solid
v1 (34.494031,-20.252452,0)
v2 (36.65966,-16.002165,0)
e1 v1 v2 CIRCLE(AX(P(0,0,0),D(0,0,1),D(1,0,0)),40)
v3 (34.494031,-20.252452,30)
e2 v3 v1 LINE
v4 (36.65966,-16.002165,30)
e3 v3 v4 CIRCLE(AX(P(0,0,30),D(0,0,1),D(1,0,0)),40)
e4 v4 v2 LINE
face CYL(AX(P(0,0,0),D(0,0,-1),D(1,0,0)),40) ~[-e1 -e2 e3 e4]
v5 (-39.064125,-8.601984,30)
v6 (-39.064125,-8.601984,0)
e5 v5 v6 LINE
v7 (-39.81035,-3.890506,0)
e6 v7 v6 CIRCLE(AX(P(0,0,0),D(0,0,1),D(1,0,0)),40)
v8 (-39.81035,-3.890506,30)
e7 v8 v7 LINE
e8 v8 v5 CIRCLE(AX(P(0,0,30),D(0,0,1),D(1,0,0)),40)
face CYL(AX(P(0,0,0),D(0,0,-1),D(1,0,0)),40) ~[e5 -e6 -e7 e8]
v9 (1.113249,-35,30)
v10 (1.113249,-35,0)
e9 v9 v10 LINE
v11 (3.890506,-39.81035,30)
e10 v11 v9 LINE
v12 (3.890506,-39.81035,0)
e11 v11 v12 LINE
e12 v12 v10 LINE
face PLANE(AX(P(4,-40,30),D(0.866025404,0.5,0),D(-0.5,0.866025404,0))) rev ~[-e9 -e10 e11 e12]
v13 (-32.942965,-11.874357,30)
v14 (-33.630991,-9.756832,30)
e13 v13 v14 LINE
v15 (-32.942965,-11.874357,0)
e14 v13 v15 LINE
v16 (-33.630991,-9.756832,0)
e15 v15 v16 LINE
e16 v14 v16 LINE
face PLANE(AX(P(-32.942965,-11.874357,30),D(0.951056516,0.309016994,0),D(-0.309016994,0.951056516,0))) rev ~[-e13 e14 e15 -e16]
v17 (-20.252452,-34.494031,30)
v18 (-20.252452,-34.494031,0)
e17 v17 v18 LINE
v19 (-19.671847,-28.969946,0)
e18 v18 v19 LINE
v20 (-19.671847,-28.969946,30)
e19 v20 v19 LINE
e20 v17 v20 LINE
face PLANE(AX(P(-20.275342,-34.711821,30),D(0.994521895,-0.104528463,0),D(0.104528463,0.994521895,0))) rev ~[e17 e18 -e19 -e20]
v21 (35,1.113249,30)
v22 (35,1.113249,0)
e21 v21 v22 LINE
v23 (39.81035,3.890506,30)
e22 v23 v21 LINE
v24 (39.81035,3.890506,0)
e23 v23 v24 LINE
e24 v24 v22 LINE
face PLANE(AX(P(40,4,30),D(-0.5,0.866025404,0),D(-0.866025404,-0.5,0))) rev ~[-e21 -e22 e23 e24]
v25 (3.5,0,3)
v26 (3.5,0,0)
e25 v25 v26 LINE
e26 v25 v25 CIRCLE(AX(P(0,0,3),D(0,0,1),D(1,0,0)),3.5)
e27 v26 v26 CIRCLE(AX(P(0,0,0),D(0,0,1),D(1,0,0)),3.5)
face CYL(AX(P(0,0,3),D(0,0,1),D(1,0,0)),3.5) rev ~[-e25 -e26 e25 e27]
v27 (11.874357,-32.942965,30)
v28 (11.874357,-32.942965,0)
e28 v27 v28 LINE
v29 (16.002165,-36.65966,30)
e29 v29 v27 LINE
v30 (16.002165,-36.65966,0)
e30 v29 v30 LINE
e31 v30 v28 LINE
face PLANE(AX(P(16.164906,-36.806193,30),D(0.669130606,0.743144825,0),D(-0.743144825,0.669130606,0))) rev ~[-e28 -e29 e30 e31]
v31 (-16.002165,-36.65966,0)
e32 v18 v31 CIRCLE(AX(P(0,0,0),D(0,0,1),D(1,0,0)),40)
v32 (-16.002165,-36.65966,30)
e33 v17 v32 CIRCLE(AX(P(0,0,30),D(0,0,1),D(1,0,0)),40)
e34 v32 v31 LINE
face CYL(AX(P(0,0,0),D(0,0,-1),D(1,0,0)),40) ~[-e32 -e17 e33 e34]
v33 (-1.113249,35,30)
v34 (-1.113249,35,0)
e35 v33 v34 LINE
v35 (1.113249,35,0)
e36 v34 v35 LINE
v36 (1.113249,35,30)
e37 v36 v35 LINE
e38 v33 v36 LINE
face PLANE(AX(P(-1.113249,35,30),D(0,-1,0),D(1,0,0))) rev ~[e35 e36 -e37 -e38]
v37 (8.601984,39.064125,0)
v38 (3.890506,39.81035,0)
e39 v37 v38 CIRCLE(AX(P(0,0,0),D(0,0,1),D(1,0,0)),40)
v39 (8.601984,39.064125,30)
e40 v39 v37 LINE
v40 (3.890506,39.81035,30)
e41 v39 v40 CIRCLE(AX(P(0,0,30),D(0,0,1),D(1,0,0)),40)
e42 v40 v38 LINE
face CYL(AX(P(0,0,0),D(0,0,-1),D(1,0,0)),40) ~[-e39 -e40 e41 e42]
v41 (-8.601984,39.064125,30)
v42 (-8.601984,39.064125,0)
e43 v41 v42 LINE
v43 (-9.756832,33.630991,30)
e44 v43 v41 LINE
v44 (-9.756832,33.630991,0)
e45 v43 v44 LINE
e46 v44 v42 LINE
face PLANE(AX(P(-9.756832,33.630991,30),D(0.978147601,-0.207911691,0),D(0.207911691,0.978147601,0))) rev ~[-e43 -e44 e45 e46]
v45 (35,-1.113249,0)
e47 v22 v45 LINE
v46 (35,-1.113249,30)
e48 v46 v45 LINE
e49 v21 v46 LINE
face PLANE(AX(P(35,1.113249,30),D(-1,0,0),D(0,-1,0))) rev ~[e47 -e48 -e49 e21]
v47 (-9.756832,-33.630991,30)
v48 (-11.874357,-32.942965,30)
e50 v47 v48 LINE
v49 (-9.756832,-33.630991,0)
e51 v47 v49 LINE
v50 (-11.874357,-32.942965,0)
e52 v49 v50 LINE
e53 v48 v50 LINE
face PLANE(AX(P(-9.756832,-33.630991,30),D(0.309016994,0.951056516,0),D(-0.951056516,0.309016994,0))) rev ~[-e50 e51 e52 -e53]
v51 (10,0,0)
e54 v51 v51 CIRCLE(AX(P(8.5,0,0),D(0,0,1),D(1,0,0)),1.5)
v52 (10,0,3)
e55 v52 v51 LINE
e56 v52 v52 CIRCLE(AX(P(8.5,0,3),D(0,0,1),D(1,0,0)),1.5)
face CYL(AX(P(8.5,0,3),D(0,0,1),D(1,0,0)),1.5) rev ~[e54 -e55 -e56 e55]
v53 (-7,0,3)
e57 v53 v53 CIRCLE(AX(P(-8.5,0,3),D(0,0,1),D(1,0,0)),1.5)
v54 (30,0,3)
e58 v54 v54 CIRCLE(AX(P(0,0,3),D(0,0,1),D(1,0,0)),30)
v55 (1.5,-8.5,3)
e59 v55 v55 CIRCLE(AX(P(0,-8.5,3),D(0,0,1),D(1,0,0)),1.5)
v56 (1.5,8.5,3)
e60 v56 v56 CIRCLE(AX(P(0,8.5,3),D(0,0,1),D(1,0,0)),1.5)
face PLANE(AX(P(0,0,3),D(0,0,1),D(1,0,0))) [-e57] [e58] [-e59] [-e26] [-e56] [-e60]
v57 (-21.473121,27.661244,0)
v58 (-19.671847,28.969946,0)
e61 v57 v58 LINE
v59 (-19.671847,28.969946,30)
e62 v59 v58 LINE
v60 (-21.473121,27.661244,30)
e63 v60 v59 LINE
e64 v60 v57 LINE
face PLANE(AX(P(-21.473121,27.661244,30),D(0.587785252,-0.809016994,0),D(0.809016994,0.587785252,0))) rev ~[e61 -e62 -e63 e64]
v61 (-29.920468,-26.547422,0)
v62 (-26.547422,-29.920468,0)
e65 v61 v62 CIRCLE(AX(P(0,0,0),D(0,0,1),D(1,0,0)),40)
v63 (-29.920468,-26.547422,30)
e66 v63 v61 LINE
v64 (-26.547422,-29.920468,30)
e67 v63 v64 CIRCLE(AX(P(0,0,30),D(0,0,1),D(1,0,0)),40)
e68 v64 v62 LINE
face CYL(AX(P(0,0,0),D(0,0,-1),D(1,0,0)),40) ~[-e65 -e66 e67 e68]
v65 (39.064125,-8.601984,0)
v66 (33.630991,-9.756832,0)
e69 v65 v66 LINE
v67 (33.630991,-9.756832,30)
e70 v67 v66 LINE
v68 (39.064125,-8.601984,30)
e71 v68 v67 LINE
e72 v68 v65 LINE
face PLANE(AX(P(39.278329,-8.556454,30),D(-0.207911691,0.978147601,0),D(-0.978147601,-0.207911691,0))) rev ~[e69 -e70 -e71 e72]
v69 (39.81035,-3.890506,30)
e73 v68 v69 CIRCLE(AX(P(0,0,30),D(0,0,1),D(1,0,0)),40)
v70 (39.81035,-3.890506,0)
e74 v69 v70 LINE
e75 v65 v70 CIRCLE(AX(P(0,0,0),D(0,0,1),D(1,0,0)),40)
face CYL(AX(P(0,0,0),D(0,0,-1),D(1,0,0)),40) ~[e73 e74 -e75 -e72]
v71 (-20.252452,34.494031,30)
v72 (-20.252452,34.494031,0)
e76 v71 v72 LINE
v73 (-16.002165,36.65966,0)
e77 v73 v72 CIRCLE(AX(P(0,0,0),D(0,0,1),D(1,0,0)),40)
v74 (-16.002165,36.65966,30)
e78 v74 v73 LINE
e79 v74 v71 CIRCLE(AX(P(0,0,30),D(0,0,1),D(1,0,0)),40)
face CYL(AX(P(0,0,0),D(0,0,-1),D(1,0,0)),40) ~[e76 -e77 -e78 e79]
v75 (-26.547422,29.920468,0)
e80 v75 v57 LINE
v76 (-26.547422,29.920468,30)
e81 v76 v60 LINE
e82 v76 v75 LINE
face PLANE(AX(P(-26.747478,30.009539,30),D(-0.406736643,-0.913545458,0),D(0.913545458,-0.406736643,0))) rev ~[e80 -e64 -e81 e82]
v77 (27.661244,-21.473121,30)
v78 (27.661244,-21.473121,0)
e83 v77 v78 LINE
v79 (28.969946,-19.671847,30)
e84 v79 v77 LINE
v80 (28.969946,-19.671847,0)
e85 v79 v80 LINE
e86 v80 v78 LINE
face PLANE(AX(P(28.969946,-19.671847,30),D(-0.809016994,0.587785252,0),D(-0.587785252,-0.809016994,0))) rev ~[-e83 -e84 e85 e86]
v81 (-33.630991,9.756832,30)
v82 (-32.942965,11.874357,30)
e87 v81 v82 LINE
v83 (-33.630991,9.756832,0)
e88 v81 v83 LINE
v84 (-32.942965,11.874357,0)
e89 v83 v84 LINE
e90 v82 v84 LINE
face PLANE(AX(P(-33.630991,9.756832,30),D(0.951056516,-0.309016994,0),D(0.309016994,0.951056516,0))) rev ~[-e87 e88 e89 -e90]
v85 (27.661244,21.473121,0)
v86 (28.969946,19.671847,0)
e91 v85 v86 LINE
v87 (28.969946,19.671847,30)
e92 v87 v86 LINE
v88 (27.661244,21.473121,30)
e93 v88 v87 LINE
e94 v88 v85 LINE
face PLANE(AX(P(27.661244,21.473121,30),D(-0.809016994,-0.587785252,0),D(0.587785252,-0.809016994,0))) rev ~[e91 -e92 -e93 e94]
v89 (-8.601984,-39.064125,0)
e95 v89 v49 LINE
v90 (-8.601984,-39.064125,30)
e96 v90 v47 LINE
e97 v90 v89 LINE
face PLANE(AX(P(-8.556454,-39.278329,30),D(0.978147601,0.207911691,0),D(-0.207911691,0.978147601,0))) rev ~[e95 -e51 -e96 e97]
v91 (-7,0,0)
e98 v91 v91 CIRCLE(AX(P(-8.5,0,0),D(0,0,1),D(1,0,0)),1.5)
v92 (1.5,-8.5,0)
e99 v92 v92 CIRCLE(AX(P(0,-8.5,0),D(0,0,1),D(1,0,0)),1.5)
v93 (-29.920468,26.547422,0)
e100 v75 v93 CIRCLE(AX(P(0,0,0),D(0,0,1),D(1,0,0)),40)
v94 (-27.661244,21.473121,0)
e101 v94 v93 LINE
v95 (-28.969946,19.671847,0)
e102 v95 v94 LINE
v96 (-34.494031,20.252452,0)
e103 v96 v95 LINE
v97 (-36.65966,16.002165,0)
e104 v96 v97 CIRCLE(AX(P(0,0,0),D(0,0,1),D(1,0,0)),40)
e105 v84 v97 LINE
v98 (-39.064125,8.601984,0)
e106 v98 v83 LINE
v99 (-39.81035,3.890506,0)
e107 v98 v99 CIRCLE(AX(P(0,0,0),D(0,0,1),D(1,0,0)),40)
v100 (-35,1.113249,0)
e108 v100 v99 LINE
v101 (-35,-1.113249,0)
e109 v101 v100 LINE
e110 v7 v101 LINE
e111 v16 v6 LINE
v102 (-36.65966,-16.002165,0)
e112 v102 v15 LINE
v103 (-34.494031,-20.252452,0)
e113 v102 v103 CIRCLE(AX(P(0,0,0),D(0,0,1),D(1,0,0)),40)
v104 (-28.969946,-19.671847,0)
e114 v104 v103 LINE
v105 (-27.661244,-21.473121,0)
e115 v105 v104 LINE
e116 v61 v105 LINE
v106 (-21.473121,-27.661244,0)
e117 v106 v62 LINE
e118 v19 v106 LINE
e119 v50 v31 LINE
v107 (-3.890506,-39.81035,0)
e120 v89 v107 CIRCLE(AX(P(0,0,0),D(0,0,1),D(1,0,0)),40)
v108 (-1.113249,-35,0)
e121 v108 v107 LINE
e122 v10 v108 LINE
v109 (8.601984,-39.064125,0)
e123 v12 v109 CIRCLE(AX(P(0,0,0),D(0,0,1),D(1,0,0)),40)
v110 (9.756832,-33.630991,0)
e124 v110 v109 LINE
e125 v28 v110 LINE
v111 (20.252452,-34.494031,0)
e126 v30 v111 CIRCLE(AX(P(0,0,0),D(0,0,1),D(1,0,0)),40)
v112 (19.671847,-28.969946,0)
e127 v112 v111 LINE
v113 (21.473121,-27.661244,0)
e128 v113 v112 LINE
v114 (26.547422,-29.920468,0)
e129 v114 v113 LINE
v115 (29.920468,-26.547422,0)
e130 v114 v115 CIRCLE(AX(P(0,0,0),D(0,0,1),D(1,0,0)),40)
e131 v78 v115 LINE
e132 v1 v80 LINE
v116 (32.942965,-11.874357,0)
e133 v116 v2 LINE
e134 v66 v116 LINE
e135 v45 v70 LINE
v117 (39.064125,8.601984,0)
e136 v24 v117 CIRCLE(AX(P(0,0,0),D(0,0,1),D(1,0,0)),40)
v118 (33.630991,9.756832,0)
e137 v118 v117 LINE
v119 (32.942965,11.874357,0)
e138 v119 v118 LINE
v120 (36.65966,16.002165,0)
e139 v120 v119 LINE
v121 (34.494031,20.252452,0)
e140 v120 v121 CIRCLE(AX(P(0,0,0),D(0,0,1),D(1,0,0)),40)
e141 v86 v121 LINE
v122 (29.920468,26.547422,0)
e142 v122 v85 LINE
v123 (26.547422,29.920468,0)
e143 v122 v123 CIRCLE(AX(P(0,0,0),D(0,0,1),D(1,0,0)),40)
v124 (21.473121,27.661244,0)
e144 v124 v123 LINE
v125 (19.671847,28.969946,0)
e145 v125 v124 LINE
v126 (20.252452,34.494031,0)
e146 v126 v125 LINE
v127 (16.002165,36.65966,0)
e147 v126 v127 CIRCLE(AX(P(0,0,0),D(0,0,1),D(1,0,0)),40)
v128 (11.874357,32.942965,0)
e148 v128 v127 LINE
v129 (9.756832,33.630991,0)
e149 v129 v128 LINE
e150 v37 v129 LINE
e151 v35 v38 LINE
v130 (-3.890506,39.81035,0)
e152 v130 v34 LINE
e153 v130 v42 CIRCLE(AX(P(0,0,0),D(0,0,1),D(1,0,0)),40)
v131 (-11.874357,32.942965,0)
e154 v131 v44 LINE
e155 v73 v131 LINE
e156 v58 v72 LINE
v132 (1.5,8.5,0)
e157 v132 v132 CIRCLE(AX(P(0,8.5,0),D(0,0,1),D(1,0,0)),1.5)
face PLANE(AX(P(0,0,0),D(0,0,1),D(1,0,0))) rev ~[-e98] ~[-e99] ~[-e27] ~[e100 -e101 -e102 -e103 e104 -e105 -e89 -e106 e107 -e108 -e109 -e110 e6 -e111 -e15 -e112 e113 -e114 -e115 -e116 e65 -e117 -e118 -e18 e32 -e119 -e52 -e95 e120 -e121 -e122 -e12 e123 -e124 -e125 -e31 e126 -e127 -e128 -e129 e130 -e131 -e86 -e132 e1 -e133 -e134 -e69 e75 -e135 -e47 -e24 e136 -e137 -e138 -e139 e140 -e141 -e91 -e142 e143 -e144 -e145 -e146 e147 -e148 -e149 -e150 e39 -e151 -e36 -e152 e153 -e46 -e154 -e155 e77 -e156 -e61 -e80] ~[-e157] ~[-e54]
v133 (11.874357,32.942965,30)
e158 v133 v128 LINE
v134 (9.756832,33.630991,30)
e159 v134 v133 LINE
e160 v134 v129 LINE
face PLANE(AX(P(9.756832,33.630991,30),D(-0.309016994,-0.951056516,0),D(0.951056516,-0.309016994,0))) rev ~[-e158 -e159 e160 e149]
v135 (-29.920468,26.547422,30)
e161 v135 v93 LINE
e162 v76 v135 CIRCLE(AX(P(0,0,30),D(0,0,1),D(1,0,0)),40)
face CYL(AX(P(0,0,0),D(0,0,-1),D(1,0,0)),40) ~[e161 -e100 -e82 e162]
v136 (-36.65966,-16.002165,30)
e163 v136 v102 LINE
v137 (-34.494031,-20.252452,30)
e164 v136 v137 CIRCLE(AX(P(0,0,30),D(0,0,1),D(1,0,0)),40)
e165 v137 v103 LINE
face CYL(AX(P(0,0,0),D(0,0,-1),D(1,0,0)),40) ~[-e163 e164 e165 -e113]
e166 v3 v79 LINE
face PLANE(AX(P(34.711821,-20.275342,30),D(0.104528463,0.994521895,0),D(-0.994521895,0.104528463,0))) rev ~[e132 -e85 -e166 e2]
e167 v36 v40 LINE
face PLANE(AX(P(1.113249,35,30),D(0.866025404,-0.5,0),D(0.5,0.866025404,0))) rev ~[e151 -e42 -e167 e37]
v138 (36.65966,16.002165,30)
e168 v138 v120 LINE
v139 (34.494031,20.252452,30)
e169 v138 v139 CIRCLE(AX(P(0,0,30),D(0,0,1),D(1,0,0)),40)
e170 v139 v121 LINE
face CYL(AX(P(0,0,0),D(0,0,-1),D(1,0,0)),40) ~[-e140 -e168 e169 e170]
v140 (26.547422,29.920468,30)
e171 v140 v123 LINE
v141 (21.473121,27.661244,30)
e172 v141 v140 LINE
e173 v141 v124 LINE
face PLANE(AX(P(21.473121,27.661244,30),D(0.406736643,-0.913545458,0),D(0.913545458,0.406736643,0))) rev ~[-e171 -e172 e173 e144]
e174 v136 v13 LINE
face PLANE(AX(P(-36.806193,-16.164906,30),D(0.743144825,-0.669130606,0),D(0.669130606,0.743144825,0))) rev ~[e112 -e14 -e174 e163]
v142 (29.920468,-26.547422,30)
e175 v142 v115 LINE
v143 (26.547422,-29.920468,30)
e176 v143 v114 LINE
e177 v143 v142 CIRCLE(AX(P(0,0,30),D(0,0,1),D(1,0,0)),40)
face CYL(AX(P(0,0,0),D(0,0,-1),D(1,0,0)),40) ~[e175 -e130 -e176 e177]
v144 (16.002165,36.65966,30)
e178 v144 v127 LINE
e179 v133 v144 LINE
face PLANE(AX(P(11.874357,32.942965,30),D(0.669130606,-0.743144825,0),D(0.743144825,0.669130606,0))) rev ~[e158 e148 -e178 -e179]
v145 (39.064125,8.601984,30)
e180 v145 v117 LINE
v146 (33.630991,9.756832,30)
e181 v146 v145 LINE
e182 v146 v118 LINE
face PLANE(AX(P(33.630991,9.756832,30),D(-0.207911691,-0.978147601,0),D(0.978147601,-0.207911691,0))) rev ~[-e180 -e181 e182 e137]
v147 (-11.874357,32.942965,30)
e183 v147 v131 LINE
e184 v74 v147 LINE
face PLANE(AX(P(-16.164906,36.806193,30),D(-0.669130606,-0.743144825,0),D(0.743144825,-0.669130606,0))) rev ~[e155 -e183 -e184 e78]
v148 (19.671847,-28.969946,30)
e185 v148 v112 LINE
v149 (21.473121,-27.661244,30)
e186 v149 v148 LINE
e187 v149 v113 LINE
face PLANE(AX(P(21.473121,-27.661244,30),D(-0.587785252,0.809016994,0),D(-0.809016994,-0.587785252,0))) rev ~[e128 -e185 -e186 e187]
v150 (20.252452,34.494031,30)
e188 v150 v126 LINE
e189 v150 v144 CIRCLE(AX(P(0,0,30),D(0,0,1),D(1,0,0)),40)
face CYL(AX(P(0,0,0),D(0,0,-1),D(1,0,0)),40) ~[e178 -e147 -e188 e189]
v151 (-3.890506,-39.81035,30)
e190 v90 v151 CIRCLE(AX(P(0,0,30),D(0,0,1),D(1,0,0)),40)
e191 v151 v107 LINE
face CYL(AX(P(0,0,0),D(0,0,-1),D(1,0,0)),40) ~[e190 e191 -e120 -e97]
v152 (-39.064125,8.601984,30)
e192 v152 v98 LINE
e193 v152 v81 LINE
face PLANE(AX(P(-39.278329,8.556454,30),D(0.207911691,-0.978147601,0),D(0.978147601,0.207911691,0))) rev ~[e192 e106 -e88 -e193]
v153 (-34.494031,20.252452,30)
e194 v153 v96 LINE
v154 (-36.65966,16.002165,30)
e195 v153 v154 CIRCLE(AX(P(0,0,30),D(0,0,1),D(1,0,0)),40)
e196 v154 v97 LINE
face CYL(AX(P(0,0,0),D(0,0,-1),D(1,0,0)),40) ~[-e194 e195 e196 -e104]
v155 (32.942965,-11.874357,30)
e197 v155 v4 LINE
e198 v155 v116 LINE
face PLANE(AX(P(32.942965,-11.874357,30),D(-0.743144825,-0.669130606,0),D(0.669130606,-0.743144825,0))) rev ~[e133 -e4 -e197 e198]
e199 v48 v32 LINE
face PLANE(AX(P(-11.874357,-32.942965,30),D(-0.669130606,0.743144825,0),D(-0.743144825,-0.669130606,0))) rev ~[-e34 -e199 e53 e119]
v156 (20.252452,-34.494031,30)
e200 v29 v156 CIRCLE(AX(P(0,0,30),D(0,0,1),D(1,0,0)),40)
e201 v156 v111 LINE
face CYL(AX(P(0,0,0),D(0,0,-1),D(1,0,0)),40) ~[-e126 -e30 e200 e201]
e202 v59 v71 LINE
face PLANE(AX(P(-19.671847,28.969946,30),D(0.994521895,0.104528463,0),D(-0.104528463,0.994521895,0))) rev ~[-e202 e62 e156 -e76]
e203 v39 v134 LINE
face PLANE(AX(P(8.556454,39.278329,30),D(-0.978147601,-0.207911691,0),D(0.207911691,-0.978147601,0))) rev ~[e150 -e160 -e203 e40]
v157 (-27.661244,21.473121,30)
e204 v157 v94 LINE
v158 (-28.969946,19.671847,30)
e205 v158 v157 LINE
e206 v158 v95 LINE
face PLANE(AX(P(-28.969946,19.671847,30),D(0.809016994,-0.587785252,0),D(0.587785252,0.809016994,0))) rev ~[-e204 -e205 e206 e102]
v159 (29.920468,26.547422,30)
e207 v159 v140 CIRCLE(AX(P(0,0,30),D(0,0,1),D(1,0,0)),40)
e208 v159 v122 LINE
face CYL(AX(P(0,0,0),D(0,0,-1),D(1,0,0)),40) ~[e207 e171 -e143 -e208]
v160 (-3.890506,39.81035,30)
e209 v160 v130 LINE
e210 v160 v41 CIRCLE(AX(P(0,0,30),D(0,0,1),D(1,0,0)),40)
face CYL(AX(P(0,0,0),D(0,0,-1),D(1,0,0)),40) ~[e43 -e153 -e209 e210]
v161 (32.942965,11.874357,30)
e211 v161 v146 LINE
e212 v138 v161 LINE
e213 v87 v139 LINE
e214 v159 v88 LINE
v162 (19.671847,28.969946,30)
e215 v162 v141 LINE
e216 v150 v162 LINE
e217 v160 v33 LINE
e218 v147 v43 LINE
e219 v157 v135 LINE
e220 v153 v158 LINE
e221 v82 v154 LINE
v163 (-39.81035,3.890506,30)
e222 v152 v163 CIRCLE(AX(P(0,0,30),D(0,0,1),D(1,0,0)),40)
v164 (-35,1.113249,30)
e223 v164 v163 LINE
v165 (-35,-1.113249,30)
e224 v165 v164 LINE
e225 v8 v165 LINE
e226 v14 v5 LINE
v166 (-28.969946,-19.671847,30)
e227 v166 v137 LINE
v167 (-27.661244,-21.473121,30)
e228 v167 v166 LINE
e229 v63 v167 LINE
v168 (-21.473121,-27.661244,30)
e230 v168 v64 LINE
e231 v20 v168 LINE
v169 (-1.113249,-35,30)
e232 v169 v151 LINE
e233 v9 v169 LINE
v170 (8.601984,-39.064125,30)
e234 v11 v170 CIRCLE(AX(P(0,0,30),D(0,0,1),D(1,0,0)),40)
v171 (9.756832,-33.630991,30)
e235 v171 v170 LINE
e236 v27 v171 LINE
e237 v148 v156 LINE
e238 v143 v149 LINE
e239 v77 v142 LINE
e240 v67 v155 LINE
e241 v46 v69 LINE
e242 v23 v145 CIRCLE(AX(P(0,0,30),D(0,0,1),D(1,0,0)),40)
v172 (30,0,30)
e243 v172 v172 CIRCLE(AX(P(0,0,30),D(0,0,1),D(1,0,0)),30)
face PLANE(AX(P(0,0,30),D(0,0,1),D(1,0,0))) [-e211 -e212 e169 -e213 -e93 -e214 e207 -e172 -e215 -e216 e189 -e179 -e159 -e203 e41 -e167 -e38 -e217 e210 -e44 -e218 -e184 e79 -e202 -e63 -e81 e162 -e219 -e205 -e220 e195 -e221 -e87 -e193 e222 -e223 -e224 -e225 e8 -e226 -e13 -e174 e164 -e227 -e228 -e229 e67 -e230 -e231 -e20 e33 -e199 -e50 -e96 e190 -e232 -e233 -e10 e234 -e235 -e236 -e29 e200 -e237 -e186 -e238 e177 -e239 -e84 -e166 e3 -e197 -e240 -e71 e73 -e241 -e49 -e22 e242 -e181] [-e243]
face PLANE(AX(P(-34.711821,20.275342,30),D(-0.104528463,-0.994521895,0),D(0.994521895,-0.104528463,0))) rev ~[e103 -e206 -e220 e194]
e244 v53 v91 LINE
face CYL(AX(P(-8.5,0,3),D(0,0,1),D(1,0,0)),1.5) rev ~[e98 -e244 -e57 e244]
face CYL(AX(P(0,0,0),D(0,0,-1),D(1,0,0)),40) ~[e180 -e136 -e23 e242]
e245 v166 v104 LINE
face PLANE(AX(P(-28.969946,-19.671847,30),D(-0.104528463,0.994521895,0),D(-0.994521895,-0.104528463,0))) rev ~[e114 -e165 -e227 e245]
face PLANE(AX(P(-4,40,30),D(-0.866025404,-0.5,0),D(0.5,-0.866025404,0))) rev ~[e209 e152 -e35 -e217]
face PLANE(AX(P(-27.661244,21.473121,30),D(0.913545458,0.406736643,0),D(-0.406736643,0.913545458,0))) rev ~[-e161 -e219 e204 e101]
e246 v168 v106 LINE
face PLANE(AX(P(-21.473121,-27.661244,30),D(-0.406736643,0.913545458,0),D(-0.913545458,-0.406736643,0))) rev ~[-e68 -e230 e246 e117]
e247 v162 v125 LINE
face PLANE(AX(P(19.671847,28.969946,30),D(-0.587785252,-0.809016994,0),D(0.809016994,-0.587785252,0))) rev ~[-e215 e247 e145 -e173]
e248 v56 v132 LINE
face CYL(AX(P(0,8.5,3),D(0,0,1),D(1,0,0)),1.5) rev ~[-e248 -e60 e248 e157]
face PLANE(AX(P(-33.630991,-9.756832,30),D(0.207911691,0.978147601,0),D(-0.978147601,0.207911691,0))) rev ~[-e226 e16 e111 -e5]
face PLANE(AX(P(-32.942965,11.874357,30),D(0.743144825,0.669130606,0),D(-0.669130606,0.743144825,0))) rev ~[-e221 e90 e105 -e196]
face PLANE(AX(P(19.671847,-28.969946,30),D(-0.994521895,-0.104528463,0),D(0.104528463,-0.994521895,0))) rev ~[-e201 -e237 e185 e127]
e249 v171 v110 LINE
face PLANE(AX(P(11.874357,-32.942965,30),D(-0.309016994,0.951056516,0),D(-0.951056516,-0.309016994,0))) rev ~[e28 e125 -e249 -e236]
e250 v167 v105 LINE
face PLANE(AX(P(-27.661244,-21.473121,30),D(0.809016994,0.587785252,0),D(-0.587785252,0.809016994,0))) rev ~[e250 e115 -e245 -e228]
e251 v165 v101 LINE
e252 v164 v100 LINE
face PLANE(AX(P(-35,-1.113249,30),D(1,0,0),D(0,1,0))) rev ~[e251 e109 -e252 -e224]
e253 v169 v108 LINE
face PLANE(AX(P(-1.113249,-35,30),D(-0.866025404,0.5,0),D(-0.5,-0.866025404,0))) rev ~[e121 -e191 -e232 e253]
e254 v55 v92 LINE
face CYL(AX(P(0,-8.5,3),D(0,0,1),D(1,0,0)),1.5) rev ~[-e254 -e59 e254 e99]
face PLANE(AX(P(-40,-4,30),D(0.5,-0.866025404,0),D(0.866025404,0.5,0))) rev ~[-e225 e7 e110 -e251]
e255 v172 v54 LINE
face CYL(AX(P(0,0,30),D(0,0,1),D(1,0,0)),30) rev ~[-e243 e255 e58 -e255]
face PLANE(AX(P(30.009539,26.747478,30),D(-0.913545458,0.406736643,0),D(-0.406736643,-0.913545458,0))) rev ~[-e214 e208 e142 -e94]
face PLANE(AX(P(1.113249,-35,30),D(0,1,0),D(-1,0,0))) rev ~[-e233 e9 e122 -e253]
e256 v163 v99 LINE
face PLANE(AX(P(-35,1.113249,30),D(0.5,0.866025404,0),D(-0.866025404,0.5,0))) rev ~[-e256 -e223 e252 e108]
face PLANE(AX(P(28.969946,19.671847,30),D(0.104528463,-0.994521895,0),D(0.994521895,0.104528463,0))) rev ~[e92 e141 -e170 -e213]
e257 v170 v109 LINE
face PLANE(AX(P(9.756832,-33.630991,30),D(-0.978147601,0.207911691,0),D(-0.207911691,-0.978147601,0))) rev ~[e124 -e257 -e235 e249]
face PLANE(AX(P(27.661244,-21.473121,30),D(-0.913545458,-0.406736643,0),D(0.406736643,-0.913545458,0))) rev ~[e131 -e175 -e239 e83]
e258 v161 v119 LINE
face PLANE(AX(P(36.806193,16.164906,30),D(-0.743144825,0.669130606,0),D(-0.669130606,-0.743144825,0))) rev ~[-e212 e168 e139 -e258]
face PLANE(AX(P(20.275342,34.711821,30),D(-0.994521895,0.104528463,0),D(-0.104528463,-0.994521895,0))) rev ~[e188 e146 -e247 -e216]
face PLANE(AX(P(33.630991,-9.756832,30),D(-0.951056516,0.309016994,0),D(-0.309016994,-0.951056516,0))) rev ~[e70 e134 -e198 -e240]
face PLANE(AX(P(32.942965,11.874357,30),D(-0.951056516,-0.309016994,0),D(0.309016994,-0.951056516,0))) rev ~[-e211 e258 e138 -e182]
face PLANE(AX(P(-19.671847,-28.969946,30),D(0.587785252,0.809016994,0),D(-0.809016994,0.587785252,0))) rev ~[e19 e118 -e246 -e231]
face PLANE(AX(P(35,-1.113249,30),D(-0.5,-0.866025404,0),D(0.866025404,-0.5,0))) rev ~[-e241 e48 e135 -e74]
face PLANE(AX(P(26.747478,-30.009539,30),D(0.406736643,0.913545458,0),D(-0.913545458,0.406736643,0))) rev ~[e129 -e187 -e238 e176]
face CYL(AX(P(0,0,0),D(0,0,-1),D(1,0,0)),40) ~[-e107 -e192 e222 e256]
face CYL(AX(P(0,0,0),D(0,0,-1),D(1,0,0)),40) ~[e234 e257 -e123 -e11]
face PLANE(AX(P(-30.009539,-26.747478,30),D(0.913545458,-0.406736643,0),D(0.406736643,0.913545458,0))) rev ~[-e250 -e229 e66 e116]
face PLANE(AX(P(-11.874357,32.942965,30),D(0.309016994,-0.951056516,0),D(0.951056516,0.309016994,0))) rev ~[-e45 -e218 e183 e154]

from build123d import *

# Parameters (mm, degrees)
SKETCH1_R           = 40
BOSS_EXTRUDE1_DEPTH = 30
CUT_EXTRUDE1_DEPTH  = 30
SKETCH3_R           = 30
CUT_EXTRUDE2_DEPTH  = 27
SKETCH4_R           = 1.5
SKETCH4_R_2         = 3.5
CUT_EXTRUDE3_DEPTH  = 27


with BuildPart() as part:
    # Sketch1 → Boss-Extrude1 (new body)
    with BuildSketch(Plane.XY):
        Circle(SKETCH1_R)
    extrude(amount=BOSS_EXTRUDE1_DEPTH)

    # Sketch2 → Cut-Extrude1 (cut)
    with BuildSketch(Plane.XY.offset(30)):
        Polygon((4, 40), (-4, 40), (-1.113248654, 35), (1.113248654, 35), align=None)
        Polygon((11.87435719, 32.942965317), (16.16490584, 36.806192674), (8.55645371, 39.278328629), (9.756832416, 33.630990823), align=None)
        Polygon((21.47312091, 27.661243662), (26.747478069, 30.009538766), (20.275342114, 34.711820784), (19.67184675, 28.969945944), align=None)
        Polygon((28.969945944, 19.67184675), (34.711820784, 20.275342114), (30.009538766, 26.747478069), (27.661243662, 21.47312091), align=None)
        Polygon((33.630990823, 9.756832416), (39.278328629, 8.55645371), (36.806192674, 16.16490584), (32.942965317, 11.87435719), align=None)
        Polygon((35, -1.113248654), (40, -4), (40, 4), (35, 1.113248654), align=None)
        Polygon((32.942965317, -11.87435719), (36.806192674, -16.16490584), (39.278328629, -8.55645371), (33.630990823, -9.756832416), align=None)
        Polygon((27.661243662, -21.47312091), (30.009538766, -26.747478069), (34.711820784, -20.275342114), (28.969945944, -19.67184675), align=None)
        Polygon((19.67184675, -28.969945944), (20.275342114, -34.711820784), (26.747478069, -30.009538766), (21.47312091, -27.661243662), align=None)
        Polygon((9.756832416, -33.630990823), (8.55645371, -39.278328629), (16.16490584, -36.806192674), (11.87435719, -32.942965317), align=None)
        Polygon((-1.113248654, -35), (-4, -40), (4, -40), (1.113248654, -35), align=None)
        Polygon((-11.87435719, -32.942965317), (-16.16490584, -36.806192674), (-8.55645371, -39.278328629), (-9.756832416, -33.630990823), align=None)
        Polygon((-21.47312091, -27.661243662), (-26.747478069, -30.009538766), (-20.275342114, -34.711820784), (-19.67184675, -28.969945944), align=None)
        Polygon((-28.969945944, -19.67184675), (-34.711820784, -20.275342114), (-30.009538766, -26.747478069), (-27.661243662, -21.47312091), align=None)
        Polygon((-33.630990823, -9.756832416), (-39.278328629, -8.55645371), (-36.806192674, -16.16490584), (-32.942965317, -11.87435719), align=None)
        Polygon((-35, 1.113248654), (-40, 4), (-40, -4), (-35, -1.113248654), align=None)
        Polygon((-32.942965317, 11.87435719), (-36.806192674, 16.16490584), (-39.278328629, 8.55645371), (-33.630990823, 9.756832416), align=None)
        Polygon((-27.661243662, 21.47312091), (-30.009538766, 26.747478069), (-34.711820784, 20.275342114), (-28.969945944, 19.67184675), align=None)
        Polygon((-19.67184675, 28.969945944), (-20.275342114, 34.711820784), (-26.747478069, 30.009538766), (-21.47312091, 27.661243662), align=None)
        Polygon((-9.756832416, 33.630990823), (-8.55645371, 39.278328629), (-16.16490584, 36.806192674), (-11.87435719, 32.942965317), align=None)
    extrude(amount=-CUT_EXTRUDE1_DEPTH, mode=Mode.SUBTRACT)

    # Sketch3 → Cut-Extrude2 (cut)
    with BuildSketch(Plane.XY.offset(30)):
        Circle(SKETCH3_R)
    extrude(amount=-CUT_EXTRUDE2_DEPTH, mode=Mode.SUBTRACT)

    # Sketch4 → Cut-Extrude3 (cut)
    with BuildSketch(Plane.XY.offset(3)):
        with Locations((8.5, 0)):
            Circle(SKETCH4_R)
        with Locations((-8.5, 0)):
            Circle(SKETCH4_R)
        with Locations((0, -8.5)):
            Circle(SKETCH4_R)
        with Locations((0, 8.5)):
            Circle(SKETCH4_R)
        Circle(SKETCH4_R_2)
    extrude(amount=-CUT_EXTRUDE3_DEPTH, mode=Mode.SUBTRACT)


solid = part.part
